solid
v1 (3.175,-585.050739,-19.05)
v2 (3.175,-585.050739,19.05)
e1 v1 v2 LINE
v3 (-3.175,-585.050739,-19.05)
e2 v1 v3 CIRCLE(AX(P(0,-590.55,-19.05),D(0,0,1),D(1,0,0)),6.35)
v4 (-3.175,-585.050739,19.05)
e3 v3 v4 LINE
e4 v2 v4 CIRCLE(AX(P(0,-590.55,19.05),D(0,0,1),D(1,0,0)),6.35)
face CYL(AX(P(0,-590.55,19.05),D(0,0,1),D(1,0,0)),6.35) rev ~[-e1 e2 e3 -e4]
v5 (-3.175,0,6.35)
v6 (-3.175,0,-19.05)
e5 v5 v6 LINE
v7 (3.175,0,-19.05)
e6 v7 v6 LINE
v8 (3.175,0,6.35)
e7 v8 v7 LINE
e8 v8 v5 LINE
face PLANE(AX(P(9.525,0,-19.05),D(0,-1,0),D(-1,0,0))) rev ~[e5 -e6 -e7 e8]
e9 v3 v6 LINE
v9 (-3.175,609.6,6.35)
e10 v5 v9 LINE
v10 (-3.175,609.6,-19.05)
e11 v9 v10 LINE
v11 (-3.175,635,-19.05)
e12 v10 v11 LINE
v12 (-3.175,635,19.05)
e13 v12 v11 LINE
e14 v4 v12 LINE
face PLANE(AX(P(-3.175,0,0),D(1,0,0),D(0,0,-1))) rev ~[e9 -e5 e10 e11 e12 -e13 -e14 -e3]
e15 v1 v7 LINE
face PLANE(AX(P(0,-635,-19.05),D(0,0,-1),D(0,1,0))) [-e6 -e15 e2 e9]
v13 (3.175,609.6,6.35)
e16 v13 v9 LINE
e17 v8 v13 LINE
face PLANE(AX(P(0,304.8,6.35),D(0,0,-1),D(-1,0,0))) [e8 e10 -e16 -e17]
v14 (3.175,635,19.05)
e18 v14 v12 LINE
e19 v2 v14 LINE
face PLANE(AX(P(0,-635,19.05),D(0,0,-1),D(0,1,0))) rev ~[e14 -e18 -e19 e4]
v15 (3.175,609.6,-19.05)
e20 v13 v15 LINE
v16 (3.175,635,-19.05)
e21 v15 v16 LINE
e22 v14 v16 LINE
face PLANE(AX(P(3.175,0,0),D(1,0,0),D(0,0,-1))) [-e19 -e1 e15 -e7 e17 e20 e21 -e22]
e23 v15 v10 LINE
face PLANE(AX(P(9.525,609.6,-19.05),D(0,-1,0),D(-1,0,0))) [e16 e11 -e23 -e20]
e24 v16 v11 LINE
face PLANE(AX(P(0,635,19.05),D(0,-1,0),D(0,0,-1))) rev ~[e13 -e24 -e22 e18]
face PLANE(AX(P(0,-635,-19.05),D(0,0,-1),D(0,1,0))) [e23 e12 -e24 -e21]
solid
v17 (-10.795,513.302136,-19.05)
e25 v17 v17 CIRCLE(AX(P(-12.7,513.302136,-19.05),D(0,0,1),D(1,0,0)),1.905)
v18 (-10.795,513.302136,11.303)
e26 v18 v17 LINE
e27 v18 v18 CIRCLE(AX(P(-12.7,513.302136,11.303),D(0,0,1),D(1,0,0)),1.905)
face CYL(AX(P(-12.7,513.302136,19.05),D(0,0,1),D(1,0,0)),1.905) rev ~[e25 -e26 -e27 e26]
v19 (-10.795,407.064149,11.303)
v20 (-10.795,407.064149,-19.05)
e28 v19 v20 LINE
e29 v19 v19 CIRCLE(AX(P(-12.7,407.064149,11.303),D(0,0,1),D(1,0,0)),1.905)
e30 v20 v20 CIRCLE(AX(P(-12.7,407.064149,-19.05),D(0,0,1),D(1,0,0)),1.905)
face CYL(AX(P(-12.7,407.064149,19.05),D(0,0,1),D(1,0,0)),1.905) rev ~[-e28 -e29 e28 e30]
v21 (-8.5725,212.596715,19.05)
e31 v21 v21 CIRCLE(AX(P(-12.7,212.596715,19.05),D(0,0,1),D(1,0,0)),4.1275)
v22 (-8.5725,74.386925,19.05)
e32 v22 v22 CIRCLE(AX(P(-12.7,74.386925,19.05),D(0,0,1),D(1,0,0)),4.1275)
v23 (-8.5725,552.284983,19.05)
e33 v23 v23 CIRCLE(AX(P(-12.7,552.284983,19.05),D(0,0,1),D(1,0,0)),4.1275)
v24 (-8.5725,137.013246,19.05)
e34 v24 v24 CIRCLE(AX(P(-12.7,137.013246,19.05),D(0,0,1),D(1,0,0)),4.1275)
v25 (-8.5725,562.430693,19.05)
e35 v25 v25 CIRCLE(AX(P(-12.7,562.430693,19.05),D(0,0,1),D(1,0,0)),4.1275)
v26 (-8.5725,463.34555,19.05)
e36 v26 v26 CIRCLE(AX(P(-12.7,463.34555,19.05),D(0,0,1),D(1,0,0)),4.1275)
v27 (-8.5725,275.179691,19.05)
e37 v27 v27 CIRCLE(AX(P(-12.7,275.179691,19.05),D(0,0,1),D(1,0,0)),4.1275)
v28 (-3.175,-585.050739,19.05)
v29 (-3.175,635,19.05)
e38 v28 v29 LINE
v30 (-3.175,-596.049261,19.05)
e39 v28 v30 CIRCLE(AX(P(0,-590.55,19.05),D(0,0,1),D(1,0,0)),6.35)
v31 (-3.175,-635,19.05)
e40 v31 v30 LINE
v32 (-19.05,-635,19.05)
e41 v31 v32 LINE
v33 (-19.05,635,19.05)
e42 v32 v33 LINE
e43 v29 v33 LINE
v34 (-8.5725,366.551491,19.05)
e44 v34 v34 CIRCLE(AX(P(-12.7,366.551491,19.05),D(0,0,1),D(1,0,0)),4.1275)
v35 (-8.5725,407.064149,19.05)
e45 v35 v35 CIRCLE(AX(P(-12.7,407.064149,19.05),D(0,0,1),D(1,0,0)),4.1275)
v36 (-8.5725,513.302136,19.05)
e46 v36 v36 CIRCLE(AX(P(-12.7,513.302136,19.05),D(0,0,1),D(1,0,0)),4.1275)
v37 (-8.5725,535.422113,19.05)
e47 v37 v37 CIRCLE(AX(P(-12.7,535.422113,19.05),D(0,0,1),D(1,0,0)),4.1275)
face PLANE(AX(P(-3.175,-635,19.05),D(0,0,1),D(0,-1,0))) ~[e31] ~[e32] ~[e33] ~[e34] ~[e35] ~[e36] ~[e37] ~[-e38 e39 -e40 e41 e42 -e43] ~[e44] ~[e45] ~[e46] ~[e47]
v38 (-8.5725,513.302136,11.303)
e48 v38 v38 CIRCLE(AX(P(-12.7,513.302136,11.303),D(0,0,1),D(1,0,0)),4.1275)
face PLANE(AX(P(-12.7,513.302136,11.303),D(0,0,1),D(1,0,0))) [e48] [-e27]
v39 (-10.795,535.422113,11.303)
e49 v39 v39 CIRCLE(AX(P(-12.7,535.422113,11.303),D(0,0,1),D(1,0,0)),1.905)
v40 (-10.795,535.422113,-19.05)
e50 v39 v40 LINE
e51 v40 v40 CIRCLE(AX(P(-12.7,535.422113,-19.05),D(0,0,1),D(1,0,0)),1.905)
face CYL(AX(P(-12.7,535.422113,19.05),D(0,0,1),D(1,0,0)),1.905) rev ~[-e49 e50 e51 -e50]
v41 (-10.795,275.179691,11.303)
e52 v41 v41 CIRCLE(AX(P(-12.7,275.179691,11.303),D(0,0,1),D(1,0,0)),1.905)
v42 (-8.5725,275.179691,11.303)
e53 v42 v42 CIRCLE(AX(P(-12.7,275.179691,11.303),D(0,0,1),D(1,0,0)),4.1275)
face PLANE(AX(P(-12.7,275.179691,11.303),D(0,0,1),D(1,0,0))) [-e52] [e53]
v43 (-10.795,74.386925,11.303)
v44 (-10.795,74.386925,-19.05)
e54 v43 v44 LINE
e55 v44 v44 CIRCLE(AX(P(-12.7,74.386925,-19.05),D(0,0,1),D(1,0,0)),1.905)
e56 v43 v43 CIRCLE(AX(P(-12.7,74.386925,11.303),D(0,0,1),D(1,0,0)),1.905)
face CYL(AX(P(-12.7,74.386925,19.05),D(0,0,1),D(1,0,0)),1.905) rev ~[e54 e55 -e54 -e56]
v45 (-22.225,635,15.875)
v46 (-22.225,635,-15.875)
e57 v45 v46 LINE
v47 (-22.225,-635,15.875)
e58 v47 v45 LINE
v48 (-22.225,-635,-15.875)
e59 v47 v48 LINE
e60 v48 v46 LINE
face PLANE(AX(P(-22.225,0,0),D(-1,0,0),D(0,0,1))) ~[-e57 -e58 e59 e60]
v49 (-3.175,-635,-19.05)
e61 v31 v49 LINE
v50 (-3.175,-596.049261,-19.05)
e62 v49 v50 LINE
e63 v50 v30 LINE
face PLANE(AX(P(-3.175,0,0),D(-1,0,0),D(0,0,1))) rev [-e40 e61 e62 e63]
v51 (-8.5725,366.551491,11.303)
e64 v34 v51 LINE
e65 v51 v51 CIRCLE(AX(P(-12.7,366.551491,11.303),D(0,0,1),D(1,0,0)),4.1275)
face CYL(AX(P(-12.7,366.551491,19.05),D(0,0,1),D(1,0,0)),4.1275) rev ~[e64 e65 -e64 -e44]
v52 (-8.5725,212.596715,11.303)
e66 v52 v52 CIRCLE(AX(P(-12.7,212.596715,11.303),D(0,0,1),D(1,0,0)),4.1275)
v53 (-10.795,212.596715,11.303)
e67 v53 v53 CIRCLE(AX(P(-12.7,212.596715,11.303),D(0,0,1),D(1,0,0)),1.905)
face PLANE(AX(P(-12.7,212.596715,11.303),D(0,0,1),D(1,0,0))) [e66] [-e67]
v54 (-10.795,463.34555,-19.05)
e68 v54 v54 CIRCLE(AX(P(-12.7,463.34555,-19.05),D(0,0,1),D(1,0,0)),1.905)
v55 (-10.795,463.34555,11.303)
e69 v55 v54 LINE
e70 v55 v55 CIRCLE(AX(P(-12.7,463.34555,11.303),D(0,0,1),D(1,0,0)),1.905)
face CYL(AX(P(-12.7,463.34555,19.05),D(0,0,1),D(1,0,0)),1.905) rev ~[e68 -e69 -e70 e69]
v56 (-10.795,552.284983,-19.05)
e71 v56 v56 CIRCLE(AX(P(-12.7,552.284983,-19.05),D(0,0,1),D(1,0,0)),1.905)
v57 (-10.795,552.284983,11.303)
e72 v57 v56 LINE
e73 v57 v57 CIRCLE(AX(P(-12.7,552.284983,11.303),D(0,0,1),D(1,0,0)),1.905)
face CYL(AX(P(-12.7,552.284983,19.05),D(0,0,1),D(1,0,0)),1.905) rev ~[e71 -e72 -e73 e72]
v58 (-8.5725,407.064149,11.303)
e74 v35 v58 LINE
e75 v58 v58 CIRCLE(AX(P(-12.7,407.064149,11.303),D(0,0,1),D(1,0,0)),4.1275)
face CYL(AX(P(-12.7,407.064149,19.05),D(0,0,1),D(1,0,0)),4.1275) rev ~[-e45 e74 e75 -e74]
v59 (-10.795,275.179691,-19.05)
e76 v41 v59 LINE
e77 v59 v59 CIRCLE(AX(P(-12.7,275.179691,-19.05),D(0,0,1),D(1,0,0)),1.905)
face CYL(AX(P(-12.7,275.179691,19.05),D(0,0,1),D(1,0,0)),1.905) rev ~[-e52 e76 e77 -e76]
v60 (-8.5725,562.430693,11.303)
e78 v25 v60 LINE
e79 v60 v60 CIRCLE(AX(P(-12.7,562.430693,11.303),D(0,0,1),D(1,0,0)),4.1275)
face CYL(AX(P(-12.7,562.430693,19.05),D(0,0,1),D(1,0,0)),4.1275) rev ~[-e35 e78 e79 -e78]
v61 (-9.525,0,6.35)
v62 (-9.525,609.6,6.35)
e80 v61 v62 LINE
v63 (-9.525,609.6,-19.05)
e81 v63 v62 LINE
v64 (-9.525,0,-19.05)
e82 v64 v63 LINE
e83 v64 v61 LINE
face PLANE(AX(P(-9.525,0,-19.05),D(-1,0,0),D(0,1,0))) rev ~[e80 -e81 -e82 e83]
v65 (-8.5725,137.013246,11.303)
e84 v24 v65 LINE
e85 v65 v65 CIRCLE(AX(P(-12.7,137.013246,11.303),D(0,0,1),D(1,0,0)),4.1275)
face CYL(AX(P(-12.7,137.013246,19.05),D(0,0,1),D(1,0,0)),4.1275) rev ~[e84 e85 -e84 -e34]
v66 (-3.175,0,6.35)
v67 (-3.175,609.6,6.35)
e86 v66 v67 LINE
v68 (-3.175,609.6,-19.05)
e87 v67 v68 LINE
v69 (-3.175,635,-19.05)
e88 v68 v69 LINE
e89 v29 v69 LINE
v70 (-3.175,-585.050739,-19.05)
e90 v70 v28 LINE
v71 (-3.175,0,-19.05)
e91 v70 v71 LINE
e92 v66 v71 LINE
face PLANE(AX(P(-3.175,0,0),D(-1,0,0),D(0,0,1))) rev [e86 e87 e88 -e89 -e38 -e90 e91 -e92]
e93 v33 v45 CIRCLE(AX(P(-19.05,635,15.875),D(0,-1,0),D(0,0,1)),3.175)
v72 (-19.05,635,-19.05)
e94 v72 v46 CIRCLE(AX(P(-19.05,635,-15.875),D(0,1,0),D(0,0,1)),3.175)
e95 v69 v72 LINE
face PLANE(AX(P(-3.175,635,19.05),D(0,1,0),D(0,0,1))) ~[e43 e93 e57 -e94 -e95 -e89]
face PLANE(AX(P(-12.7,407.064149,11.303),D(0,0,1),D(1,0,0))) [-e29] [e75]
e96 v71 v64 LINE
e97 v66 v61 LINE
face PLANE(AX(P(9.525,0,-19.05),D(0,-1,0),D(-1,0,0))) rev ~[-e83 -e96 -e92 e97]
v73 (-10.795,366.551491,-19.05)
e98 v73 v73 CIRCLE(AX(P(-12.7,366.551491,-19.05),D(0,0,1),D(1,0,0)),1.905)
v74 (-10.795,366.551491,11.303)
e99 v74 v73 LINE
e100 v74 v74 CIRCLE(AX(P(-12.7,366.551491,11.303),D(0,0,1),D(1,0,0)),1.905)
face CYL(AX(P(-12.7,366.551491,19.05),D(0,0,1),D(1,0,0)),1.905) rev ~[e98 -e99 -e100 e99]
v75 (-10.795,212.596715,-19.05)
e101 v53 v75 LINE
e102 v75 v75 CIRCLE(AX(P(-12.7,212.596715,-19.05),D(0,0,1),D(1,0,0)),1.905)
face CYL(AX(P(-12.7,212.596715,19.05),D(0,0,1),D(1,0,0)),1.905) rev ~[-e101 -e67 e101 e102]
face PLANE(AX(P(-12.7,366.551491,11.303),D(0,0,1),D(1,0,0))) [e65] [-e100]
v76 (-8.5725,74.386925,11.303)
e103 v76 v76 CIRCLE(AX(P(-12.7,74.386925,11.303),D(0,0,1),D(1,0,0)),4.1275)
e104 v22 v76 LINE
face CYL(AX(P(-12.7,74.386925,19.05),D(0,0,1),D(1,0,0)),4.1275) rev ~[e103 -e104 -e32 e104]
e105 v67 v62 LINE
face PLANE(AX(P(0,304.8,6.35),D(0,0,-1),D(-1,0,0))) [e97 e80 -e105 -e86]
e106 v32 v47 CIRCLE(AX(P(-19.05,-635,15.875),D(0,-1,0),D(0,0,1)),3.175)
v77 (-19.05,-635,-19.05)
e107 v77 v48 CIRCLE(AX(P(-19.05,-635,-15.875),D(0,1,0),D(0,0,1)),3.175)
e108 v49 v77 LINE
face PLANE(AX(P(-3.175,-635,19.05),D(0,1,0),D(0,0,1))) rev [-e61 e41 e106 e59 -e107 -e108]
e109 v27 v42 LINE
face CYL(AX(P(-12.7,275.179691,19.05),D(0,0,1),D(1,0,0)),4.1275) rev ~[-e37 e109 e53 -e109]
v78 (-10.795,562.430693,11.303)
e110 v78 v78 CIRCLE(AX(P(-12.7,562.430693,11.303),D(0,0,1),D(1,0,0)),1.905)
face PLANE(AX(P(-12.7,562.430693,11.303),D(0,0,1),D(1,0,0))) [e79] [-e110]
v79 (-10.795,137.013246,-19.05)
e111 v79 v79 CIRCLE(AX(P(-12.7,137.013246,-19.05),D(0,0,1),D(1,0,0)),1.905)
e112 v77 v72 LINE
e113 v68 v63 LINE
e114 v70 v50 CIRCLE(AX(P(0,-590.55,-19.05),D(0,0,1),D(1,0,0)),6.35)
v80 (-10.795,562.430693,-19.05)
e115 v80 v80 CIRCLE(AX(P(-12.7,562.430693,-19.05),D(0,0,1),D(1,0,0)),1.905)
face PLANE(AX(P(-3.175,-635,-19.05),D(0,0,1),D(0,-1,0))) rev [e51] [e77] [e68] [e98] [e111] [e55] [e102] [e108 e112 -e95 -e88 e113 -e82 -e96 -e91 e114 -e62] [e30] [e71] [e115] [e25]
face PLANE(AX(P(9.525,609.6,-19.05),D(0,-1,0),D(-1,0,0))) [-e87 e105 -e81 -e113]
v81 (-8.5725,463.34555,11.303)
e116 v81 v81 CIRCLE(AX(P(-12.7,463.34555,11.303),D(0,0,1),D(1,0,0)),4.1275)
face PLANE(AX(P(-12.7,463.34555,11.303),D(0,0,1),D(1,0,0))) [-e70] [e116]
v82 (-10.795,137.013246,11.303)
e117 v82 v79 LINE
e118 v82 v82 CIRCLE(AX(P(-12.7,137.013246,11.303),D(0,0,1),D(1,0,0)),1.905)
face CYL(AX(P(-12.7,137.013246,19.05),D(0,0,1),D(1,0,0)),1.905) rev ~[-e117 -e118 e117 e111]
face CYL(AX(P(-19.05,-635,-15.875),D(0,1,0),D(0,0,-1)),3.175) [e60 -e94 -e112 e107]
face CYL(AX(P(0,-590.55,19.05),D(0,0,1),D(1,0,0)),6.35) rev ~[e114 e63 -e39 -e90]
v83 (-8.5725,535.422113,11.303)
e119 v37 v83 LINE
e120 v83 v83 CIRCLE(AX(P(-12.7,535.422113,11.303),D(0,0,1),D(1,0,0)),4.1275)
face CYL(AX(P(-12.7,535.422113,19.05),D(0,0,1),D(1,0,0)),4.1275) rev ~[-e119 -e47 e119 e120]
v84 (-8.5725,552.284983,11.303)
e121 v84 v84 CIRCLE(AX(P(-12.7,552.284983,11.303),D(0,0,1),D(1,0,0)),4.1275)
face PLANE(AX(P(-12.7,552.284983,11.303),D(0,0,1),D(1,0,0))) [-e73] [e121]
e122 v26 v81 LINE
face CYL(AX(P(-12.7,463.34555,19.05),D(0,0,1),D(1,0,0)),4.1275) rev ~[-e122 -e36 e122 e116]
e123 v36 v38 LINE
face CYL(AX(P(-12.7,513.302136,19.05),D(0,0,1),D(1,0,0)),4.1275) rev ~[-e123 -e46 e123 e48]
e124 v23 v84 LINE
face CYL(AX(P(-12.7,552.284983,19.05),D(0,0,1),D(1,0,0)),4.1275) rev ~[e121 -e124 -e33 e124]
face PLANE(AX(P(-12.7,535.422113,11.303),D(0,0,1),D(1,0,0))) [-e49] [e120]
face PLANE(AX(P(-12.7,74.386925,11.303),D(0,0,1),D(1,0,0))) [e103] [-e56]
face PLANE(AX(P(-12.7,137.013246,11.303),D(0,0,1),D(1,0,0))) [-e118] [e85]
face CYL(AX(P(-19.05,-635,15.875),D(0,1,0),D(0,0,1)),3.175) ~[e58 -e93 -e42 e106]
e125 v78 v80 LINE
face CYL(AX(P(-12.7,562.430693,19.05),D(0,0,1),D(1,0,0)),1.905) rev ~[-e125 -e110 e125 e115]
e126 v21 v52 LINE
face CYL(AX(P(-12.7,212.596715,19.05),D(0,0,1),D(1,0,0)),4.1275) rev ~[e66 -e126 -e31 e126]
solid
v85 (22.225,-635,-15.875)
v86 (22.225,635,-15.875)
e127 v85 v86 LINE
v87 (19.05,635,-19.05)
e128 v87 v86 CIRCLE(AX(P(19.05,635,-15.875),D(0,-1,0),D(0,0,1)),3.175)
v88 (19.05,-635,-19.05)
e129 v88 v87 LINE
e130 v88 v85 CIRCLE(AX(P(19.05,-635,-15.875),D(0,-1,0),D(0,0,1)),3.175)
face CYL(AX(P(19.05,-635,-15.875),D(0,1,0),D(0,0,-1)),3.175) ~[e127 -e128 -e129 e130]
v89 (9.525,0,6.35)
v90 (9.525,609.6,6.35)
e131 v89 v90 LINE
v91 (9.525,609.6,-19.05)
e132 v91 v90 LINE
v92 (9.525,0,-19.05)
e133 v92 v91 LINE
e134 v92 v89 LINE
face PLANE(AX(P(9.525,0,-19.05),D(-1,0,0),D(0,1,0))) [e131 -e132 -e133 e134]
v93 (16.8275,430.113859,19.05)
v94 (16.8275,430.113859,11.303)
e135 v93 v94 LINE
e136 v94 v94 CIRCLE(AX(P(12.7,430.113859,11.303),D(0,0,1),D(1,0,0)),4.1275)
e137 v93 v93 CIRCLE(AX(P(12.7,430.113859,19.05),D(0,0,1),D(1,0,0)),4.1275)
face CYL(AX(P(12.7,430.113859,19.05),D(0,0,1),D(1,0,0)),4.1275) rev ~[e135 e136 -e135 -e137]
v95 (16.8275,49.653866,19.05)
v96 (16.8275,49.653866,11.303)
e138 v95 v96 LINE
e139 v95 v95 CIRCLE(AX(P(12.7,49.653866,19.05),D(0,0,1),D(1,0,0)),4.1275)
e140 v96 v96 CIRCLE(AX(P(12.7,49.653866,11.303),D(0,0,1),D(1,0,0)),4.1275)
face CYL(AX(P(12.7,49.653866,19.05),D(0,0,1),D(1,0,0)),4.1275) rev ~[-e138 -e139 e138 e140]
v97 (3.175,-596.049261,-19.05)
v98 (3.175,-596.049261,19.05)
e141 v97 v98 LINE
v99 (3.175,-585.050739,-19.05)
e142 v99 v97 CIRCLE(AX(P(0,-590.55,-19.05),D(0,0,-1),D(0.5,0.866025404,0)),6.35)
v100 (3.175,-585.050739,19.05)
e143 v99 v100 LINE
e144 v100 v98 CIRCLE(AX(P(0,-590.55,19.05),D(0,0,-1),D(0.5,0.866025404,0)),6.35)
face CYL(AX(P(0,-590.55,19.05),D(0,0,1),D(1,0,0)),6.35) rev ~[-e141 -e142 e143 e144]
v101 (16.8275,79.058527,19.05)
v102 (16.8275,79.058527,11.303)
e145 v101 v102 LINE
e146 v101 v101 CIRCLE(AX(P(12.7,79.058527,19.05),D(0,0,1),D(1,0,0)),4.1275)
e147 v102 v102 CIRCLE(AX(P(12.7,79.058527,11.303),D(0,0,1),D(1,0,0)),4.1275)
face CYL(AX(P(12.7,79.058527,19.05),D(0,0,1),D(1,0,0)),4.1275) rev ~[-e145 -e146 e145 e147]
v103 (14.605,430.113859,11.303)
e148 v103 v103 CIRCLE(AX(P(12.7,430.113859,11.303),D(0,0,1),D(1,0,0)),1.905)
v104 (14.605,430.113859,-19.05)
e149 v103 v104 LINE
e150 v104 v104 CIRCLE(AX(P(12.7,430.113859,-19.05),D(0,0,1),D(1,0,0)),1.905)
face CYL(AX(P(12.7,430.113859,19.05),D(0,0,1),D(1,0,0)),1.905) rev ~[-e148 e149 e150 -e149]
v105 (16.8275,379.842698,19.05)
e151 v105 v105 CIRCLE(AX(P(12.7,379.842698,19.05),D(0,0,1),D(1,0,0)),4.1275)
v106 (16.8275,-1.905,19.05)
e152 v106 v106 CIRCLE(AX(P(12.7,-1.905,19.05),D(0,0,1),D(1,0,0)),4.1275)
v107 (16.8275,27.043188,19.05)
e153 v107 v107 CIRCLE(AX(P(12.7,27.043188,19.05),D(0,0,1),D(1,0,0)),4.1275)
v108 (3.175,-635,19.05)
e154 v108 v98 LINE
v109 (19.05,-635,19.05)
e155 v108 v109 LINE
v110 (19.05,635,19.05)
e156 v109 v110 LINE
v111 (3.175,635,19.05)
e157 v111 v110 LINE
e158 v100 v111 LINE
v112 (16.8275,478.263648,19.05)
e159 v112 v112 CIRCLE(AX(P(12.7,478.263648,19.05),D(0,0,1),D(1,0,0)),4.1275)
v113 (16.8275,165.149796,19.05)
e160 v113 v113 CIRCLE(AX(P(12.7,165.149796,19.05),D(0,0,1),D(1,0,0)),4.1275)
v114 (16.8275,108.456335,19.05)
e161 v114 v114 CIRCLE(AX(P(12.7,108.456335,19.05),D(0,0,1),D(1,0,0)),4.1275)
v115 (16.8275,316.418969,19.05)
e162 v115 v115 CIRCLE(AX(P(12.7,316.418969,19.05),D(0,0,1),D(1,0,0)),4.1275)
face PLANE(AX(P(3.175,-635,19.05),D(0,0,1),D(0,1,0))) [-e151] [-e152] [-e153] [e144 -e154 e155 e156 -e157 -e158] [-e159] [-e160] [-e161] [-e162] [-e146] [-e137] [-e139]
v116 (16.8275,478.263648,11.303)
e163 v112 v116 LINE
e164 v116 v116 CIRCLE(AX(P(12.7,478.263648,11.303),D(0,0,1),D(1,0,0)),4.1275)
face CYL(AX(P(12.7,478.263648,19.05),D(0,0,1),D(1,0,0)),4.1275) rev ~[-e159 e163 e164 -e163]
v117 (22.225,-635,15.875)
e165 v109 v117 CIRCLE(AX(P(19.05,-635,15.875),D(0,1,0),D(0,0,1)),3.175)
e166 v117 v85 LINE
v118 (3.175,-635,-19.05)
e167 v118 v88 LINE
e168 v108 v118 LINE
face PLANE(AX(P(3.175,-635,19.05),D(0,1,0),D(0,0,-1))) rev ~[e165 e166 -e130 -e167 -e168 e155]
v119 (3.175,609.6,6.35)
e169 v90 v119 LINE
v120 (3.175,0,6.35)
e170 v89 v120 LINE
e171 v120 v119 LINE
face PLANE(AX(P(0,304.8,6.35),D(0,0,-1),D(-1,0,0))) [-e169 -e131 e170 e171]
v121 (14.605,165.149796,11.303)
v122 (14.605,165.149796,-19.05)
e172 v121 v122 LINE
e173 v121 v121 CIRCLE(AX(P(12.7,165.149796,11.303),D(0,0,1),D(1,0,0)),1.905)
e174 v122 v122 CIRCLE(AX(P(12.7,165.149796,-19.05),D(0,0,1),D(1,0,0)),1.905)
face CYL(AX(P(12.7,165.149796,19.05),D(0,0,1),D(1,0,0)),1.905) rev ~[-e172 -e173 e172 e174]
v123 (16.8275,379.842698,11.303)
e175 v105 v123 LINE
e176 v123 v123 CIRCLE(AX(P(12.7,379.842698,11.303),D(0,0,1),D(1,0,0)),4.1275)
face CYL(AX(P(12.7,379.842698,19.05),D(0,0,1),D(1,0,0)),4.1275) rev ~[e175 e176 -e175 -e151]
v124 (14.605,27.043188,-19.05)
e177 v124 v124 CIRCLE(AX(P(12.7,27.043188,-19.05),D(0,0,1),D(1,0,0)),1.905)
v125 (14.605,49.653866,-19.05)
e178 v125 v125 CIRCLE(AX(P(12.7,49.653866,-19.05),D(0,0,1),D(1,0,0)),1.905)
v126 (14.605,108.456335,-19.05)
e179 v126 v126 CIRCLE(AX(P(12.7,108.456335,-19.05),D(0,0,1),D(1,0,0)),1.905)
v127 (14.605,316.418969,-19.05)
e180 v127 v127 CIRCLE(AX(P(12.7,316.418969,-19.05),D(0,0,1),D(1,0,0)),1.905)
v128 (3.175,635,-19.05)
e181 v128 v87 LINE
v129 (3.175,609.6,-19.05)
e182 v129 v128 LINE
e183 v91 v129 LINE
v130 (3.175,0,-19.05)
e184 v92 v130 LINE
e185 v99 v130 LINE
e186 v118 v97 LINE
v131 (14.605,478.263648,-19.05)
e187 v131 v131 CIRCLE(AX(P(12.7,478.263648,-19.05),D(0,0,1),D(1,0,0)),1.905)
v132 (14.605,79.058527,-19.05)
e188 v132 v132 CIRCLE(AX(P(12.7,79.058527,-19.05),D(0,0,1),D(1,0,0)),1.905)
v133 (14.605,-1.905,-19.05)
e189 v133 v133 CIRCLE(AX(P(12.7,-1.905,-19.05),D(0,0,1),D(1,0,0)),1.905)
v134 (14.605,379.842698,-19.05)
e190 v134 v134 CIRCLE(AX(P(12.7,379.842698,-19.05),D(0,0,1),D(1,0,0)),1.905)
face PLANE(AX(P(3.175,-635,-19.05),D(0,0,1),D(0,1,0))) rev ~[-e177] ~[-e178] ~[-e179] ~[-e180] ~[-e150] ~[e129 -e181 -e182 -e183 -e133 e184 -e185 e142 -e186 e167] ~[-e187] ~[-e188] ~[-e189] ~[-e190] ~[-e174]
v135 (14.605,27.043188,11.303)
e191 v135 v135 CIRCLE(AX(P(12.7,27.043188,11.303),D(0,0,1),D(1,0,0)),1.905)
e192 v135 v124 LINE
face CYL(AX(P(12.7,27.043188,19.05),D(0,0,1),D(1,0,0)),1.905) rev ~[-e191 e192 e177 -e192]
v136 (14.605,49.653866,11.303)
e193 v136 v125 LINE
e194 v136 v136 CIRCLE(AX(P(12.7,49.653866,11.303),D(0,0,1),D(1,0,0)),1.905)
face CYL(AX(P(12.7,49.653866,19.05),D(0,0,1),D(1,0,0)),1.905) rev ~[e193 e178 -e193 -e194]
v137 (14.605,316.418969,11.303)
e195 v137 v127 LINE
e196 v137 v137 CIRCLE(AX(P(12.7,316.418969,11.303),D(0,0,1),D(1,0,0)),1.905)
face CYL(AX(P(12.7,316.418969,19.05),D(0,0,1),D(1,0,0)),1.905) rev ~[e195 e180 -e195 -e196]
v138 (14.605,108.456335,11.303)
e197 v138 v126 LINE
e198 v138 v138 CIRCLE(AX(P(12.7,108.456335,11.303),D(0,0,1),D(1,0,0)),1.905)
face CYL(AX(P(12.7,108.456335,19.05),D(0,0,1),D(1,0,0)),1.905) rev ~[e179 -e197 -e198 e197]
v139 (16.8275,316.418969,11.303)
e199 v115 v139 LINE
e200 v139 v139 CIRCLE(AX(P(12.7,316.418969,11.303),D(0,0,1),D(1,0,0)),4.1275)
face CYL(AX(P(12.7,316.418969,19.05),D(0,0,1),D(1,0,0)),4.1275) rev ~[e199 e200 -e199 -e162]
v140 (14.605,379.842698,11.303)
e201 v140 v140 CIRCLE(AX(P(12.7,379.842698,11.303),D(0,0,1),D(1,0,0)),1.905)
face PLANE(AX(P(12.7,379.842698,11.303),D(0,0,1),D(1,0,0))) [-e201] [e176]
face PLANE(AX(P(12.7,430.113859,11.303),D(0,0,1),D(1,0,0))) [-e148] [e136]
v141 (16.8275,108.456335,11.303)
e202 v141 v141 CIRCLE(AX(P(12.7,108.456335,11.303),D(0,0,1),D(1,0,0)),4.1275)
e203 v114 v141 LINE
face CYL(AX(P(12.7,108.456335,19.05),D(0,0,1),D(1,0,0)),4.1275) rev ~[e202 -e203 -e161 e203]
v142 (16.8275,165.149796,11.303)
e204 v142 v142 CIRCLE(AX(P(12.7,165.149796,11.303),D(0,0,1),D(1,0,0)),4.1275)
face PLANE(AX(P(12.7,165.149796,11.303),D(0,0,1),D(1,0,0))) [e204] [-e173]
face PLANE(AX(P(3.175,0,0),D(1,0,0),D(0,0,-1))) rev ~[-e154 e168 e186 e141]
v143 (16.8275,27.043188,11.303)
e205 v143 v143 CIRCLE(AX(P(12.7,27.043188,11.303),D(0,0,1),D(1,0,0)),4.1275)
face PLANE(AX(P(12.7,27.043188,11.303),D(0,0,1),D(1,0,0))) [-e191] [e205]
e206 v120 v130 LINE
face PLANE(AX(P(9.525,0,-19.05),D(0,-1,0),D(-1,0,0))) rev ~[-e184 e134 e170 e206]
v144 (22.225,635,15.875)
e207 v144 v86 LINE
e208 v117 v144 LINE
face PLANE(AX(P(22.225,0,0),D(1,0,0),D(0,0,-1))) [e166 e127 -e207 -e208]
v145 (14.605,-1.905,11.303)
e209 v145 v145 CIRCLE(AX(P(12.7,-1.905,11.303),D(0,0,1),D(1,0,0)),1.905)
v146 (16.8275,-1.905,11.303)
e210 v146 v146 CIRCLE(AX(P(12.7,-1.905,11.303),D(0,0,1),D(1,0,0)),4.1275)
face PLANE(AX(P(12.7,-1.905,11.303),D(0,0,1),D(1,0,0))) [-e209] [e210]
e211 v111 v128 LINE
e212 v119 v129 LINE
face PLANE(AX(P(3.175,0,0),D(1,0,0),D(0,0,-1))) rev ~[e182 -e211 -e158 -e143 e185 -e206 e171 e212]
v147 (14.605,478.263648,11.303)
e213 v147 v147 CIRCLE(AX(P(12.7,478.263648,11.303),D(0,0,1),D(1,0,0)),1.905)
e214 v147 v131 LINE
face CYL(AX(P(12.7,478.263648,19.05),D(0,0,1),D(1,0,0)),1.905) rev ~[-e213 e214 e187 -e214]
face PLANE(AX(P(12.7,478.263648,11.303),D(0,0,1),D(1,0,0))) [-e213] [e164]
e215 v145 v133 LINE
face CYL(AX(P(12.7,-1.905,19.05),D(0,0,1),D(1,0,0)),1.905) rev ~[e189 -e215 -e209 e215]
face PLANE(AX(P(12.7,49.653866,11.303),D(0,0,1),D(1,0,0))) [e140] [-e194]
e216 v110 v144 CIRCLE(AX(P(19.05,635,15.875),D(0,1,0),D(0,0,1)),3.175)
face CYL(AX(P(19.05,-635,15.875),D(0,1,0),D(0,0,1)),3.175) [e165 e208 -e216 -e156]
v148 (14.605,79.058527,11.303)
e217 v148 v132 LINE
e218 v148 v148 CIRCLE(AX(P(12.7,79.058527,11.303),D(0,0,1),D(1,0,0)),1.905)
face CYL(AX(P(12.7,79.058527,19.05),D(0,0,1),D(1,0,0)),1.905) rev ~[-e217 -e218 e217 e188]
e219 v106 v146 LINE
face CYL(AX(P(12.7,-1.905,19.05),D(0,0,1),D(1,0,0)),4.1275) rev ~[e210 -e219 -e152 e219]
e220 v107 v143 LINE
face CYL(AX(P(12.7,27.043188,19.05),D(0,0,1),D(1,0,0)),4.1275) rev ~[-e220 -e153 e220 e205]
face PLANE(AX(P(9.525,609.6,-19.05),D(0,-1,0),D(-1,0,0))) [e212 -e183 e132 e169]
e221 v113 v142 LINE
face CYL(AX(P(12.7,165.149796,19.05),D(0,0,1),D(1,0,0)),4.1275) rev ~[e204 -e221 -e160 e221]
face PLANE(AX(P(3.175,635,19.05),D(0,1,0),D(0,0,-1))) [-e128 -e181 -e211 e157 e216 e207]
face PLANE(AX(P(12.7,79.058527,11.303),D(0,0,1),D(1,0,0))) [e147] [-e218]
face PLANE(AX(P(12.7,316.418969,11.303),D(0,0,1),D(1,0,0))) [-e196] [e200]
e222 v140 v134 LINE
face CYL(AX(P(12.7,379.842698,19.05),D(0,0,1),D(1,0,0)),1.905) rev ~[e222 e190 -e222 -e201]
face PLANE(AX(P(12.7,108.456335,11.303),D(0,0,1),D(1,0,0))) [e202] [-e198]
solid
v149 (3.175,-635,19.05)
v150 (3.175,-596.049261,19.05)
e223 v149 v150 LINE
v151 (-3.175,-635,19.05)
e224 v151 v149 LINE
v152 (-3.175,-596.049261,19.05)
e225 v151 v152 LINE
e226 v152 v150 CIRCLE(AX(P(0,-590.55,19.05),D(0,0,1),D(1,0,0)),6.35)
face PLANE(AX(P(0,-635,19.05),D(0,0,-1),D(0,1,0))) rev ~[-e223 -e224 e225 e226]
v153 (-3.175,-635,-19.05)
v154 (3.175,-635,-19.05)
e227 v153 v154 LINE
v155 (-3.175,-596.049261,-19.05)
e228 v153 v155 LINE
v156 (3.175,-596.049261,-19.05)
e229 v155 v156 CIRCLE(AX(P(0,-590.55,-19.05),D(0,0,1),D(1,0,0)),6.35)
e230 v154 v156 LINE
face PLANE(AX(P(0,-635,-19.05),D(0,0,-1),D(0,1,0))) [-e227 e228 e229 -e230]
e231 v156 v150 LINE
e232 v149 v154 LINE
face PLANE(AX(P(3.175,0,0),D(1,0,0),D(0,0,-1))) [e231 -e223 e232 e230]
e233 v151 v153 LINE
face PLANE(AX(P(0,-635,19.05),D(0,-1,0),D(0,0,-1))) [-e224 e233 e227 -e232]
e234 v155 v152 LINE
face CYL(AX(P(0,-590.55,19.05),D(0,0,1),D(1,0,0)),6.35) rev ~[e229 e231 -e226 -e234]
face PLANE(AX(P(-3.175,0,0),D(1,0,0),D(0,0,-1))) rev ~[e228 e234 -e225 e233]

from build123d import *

# Parameters (mm, degrees)
SKETCH1_W            = 38.1
SKETCH1_H            = 1270
BOSS_EXTRUDE1_DEPTH  = 3.175
SKETCH8_W            = 38.1
SKETCH8_H            = 1270
BOSS_EXTRUDE2_DEPTH  = 19.05
FILLET1_R            = 3.175
SKETCH22_W           = 19.05
SKETCH22_H           = 609.6
CUT_EXTRUDE7_DEPTH   = 25.4
SKETCH2_R            = 6.35
EYEBOLT_ANCHOR_DEPTH = 637.530094045
SKETCH5_R            = 1.905
CUT_EXTRUDE3_DEPTH   = 637.530094045
SKETCH6_R            = 4.1275
CUT_EXTRUDE4_DEPTH   = 7.747


with BuildPart() as part:
    # Sketch1 → Boss-Extrude1 (new, symmetric)
    with BuildSketch(Plane(origin=(0, 0, 0), x_dir=(0, 0, -1), z_dir=(1, 0, 0))):
        Rectangle(SKETCH1_W, SKETCH1_H)
    extrude(amount=BOSS_EXTRUDE1_DEPTH, both=True)


with BuildPart() as body_2:
    # Sketch8 → Boss-Extrude2 (new body)
    with BuildSketch(Plane(origin=(3.175, 0, 0), x_dir=(0, 0, -1), z_dir=(1, 0, 0))):
        Rectangle(SKETCH8_W, SKETCH8_H)
    extrude(amount=BOSS_EXTRUDE2_DEPTH)

    # Fillet1
    fillet1_edges = [body_2.edges().sort_by_distance(p)[0] for p in [
        (22.225, 0, -19.05),
        (22.225, 0, 19.05),
    ]]
    fillet(fillet1_edges, radius=FILLET1_R)


with BuildPart() as body_3:
    # Mirror3: mirrored copy
    add(body_2.part.mirror(Plane(origin=(0, 0, 0), x_dir=(0, 0, 1), z_dir=(1, 0, 0))))


with BuildPart() as cut_extrude7_tool:
    # Sketch22 → Cut-Extrude7 (new body)
    with BuildSketch(Plane(origin=(0, 0, -19.05), x_dir=(-1, 0, 0), z_dir=(0, 0, -1))):
        with Locations((0, 304.8)):
            Rectangle(SKETCH22_W, SKETCH22_H)
    extrude(amount=-CUT_EXTRUDE7_DEPTH)


with BuildPart() as part_1:
    add(part.part)

    # Cut-Extrude7: cut by cut_extrude7_tool
    add(cut_extrude7_tool.part, mode=Mode.SUBTRACT)


with BuildPart() as body_2_1:
    add(body_2.part)

    # Cut-Extrude7: cut by cut_extrude7_tool
    add(cut_extrude7_tool.part, mode=Mode.SUBTRACT)


with BuildPart() as body_3_1:
    add(body_3.part)

    # Cut-Extrude7: cut by cut_extrude7_tool
    add(cut_extrude7_tool.part, mode=Mode.SUBTRACT)


with BuildPart() as eyebolt_anchor_tool:
    # Sketch2 → Eyebolt Anchor (new, through all)
    with BuildSketch(Plane.XY.offset(19.05)):
        with Locations((0, -590.55)):
            Circle(SKETCH2_R)
    extrude(amount=-EYEBOLT_ANCHOR_DEPTH)


with BuildPart() as part_2:
    add(part_1.part)

    # Eyebolt Anchor: cut by eyebolt_anchor_tool
    add(eyebolt_anchor_tool.part, mode=Mode.SUBTRACT)


with BuildPart() as body_2_2:
    add(body_2_1.part)

    # Eyebolt Anchor: cut by eyebolt_anchor_tool
    add(eyebolt_anchor_tool.part, mode=Mode.SUBTRACT)


with BuildPart() as body_3_2:
    add(body_3_1.part)

    # Eyebolt Anchor: cut by eyebolt_anchor_tool
    add(eyebolt_anchor_tool.part, mode=Mode.SUBTRACT)


with BuildPart() as cut_extrude3_tool:
    # Sketch5 → Cut-Extrude3 (new, through all)
    with BuildSketch(Plane.XY.offset(19.05)):
        with Locations((-12.7, 513.302135886)):
            Circle(SKETCH5_R)
        with Locations((12.7, 478.263647874)):
            Circle(SKETCH5_R)
        with Locations((-12.7, 463.345550332)):
            Circle(SKETCH5_R)
        with Locations((12.7, 430.113859098)):
            Circle(SKETCH5_R)
        with Locations((-12.7, 407.064148942)):
            Circle(SKETCH5_R)
        with Locations((12.7, 379.842698104)):
            Circle(SKETCH5_R)
        with Locations((-12.7, 366.551491472)):
            Circle(SKETCH5_R)
        with Locations((12.7, 316.418969048)):
            Circle(SKETCH5_R)
        with Locations((-12.7, 535.422112699)):
            Circle(SKETCH5_R)
        with Locations((-12.7, 552.28498253)):
            Circle(SKETCH5_R)
        with Locations((-12.7, 562.430692594)):
            Circle(SKETCH5_R)
        with Locations((12.7, 165.149796436)):
            Circle(SKETCH5_R)
        with Locations((12.7, 108.45633512)):
            Circle(SKETCH5_R)
        with Locations((12.7, 79.058526758)):
            Circle(SKETCH5_R)
        with Locations((12.7, 49.653866377)):
            Circle(SKETCH5_R)
        with Locations((12.7, 27.043187605)):
            Circle(SKETCH5_R)
        with Locations((12.7, -1.905)):
            Circle(SKETCH5_R)
        with Locations((-12.7, 74.386924519)):
            Circle(SKETCH5_R)
        with Locations((-12.7, 137.013245544)):
            Circle(SKETCH5_R)
        with Locations((-12.7, 212.596714918)):
            Circle(SKETCH5_R)
        with Locations((-12.7, 275.179690854)):
            Circle(SKETCH5_R)
    extrude(amount=-CUT_EXTRUDE3_DEPTH)


with BuildPart() as body_2_3:
    add(body_2_2.part)

    # Cut-Extrude3: cut by cut_extrude3_tool
    add(cut_extrude3_tool.part, mode=Mode.SUBTRACT)


with BuildPart() as body_3_3:
    add(body_3_2.part)

    # Cut-Extrude3: cut by cut_extrude3_tool
    add(cut_extrude3_tool.part, mode=Mode.SUBTRACT)


with BuildPart() as cut_extrude4_tool:
    # Sketch6 → Cut-Extrude4 (new body)
    with BuildSketch(Plane.XY.offset(19.05)):
        with Locations((-12.7, 513.302135886)):
            Circle(SKETCH6_R)
        with Locations((12.7, 478.263647874)):
            Circle(SKETCH6_R)
        with Locations((-12.7, 463.345550332)):
            Circle(SKETCH6_R)
        with Locations((12.7, 430.113859098)):
            Circle(SKETCH6_R)
        with Locations((12.7, 379.842698104)):
            Circle(SKETCH6_R)
        with Locations((12.7, 316.418969048)):
            Circle(SKETCH6_R)
        with Locations((-12.7, 366.551491472)):
            Circle(SKETCH6_R)
        with Locations((-12.7, 407.064148942)):
            Circle(SKETCH6_R)
        with Locations((-12.7, 562.430692594)):
            Circle(SKETCH6_R)
        with Locations((-12.7, 552.28498253)):
            Circle(SKETCH6_R)
        with Locations((-12.7, 535.422112699)):
            Circle(SKETCH6_R)
        with Locations((-12.7, 275.179690854)):
            Circle(SKETCH6_R)
        with Locations((-12.7, 212.596714918)):
            Circle(SKETCH6_R)
        with Locations((12.7, 165.149796436)):
            Circle(SKETCH6_R)
        with Locations((-12.7, 137.013245544)):
            Circle(SKETCH6_R)
        with Locations((12.7, 108.45633512)):
            Circle(SKETCH6_R)
        with Locations((12.7, 79.058526758)):
            Circle(SKETCH6_R)
        with Locations((-12.7, 74.386924519)):
            Circle(SKETCH6_R)
        with Locations((12.7, 49.653866377)):
            Circle(SKETCH6_R)
        with Locations((12.7, 27.043187605)):
            Circle(SKETCH6_R)
        with Locations((12.7, -1.905)):
            Circle(SKETCH6_R)
    extrude(amount=-CUT_EXTRUDE4_DEPTH)


with BuildPart() as body_2_4:
    add(body_2_3.part)

    # Cut-Extrude4: cut by cut_extrude4_tool
    add(cut_extrude4_tool.part, mode=Mode.SUBTRACT)


with BuildPart() as body_3_4:
    add(body_3_3.part)

    # Cut-Extrude4: cut by cut_extrude4_tool
    add(cut_extrude4_tool.part, mode=Mode.SUBTRACT)


solid = Compound([part_2.part, body_2_4.part, body_3_4.part])
